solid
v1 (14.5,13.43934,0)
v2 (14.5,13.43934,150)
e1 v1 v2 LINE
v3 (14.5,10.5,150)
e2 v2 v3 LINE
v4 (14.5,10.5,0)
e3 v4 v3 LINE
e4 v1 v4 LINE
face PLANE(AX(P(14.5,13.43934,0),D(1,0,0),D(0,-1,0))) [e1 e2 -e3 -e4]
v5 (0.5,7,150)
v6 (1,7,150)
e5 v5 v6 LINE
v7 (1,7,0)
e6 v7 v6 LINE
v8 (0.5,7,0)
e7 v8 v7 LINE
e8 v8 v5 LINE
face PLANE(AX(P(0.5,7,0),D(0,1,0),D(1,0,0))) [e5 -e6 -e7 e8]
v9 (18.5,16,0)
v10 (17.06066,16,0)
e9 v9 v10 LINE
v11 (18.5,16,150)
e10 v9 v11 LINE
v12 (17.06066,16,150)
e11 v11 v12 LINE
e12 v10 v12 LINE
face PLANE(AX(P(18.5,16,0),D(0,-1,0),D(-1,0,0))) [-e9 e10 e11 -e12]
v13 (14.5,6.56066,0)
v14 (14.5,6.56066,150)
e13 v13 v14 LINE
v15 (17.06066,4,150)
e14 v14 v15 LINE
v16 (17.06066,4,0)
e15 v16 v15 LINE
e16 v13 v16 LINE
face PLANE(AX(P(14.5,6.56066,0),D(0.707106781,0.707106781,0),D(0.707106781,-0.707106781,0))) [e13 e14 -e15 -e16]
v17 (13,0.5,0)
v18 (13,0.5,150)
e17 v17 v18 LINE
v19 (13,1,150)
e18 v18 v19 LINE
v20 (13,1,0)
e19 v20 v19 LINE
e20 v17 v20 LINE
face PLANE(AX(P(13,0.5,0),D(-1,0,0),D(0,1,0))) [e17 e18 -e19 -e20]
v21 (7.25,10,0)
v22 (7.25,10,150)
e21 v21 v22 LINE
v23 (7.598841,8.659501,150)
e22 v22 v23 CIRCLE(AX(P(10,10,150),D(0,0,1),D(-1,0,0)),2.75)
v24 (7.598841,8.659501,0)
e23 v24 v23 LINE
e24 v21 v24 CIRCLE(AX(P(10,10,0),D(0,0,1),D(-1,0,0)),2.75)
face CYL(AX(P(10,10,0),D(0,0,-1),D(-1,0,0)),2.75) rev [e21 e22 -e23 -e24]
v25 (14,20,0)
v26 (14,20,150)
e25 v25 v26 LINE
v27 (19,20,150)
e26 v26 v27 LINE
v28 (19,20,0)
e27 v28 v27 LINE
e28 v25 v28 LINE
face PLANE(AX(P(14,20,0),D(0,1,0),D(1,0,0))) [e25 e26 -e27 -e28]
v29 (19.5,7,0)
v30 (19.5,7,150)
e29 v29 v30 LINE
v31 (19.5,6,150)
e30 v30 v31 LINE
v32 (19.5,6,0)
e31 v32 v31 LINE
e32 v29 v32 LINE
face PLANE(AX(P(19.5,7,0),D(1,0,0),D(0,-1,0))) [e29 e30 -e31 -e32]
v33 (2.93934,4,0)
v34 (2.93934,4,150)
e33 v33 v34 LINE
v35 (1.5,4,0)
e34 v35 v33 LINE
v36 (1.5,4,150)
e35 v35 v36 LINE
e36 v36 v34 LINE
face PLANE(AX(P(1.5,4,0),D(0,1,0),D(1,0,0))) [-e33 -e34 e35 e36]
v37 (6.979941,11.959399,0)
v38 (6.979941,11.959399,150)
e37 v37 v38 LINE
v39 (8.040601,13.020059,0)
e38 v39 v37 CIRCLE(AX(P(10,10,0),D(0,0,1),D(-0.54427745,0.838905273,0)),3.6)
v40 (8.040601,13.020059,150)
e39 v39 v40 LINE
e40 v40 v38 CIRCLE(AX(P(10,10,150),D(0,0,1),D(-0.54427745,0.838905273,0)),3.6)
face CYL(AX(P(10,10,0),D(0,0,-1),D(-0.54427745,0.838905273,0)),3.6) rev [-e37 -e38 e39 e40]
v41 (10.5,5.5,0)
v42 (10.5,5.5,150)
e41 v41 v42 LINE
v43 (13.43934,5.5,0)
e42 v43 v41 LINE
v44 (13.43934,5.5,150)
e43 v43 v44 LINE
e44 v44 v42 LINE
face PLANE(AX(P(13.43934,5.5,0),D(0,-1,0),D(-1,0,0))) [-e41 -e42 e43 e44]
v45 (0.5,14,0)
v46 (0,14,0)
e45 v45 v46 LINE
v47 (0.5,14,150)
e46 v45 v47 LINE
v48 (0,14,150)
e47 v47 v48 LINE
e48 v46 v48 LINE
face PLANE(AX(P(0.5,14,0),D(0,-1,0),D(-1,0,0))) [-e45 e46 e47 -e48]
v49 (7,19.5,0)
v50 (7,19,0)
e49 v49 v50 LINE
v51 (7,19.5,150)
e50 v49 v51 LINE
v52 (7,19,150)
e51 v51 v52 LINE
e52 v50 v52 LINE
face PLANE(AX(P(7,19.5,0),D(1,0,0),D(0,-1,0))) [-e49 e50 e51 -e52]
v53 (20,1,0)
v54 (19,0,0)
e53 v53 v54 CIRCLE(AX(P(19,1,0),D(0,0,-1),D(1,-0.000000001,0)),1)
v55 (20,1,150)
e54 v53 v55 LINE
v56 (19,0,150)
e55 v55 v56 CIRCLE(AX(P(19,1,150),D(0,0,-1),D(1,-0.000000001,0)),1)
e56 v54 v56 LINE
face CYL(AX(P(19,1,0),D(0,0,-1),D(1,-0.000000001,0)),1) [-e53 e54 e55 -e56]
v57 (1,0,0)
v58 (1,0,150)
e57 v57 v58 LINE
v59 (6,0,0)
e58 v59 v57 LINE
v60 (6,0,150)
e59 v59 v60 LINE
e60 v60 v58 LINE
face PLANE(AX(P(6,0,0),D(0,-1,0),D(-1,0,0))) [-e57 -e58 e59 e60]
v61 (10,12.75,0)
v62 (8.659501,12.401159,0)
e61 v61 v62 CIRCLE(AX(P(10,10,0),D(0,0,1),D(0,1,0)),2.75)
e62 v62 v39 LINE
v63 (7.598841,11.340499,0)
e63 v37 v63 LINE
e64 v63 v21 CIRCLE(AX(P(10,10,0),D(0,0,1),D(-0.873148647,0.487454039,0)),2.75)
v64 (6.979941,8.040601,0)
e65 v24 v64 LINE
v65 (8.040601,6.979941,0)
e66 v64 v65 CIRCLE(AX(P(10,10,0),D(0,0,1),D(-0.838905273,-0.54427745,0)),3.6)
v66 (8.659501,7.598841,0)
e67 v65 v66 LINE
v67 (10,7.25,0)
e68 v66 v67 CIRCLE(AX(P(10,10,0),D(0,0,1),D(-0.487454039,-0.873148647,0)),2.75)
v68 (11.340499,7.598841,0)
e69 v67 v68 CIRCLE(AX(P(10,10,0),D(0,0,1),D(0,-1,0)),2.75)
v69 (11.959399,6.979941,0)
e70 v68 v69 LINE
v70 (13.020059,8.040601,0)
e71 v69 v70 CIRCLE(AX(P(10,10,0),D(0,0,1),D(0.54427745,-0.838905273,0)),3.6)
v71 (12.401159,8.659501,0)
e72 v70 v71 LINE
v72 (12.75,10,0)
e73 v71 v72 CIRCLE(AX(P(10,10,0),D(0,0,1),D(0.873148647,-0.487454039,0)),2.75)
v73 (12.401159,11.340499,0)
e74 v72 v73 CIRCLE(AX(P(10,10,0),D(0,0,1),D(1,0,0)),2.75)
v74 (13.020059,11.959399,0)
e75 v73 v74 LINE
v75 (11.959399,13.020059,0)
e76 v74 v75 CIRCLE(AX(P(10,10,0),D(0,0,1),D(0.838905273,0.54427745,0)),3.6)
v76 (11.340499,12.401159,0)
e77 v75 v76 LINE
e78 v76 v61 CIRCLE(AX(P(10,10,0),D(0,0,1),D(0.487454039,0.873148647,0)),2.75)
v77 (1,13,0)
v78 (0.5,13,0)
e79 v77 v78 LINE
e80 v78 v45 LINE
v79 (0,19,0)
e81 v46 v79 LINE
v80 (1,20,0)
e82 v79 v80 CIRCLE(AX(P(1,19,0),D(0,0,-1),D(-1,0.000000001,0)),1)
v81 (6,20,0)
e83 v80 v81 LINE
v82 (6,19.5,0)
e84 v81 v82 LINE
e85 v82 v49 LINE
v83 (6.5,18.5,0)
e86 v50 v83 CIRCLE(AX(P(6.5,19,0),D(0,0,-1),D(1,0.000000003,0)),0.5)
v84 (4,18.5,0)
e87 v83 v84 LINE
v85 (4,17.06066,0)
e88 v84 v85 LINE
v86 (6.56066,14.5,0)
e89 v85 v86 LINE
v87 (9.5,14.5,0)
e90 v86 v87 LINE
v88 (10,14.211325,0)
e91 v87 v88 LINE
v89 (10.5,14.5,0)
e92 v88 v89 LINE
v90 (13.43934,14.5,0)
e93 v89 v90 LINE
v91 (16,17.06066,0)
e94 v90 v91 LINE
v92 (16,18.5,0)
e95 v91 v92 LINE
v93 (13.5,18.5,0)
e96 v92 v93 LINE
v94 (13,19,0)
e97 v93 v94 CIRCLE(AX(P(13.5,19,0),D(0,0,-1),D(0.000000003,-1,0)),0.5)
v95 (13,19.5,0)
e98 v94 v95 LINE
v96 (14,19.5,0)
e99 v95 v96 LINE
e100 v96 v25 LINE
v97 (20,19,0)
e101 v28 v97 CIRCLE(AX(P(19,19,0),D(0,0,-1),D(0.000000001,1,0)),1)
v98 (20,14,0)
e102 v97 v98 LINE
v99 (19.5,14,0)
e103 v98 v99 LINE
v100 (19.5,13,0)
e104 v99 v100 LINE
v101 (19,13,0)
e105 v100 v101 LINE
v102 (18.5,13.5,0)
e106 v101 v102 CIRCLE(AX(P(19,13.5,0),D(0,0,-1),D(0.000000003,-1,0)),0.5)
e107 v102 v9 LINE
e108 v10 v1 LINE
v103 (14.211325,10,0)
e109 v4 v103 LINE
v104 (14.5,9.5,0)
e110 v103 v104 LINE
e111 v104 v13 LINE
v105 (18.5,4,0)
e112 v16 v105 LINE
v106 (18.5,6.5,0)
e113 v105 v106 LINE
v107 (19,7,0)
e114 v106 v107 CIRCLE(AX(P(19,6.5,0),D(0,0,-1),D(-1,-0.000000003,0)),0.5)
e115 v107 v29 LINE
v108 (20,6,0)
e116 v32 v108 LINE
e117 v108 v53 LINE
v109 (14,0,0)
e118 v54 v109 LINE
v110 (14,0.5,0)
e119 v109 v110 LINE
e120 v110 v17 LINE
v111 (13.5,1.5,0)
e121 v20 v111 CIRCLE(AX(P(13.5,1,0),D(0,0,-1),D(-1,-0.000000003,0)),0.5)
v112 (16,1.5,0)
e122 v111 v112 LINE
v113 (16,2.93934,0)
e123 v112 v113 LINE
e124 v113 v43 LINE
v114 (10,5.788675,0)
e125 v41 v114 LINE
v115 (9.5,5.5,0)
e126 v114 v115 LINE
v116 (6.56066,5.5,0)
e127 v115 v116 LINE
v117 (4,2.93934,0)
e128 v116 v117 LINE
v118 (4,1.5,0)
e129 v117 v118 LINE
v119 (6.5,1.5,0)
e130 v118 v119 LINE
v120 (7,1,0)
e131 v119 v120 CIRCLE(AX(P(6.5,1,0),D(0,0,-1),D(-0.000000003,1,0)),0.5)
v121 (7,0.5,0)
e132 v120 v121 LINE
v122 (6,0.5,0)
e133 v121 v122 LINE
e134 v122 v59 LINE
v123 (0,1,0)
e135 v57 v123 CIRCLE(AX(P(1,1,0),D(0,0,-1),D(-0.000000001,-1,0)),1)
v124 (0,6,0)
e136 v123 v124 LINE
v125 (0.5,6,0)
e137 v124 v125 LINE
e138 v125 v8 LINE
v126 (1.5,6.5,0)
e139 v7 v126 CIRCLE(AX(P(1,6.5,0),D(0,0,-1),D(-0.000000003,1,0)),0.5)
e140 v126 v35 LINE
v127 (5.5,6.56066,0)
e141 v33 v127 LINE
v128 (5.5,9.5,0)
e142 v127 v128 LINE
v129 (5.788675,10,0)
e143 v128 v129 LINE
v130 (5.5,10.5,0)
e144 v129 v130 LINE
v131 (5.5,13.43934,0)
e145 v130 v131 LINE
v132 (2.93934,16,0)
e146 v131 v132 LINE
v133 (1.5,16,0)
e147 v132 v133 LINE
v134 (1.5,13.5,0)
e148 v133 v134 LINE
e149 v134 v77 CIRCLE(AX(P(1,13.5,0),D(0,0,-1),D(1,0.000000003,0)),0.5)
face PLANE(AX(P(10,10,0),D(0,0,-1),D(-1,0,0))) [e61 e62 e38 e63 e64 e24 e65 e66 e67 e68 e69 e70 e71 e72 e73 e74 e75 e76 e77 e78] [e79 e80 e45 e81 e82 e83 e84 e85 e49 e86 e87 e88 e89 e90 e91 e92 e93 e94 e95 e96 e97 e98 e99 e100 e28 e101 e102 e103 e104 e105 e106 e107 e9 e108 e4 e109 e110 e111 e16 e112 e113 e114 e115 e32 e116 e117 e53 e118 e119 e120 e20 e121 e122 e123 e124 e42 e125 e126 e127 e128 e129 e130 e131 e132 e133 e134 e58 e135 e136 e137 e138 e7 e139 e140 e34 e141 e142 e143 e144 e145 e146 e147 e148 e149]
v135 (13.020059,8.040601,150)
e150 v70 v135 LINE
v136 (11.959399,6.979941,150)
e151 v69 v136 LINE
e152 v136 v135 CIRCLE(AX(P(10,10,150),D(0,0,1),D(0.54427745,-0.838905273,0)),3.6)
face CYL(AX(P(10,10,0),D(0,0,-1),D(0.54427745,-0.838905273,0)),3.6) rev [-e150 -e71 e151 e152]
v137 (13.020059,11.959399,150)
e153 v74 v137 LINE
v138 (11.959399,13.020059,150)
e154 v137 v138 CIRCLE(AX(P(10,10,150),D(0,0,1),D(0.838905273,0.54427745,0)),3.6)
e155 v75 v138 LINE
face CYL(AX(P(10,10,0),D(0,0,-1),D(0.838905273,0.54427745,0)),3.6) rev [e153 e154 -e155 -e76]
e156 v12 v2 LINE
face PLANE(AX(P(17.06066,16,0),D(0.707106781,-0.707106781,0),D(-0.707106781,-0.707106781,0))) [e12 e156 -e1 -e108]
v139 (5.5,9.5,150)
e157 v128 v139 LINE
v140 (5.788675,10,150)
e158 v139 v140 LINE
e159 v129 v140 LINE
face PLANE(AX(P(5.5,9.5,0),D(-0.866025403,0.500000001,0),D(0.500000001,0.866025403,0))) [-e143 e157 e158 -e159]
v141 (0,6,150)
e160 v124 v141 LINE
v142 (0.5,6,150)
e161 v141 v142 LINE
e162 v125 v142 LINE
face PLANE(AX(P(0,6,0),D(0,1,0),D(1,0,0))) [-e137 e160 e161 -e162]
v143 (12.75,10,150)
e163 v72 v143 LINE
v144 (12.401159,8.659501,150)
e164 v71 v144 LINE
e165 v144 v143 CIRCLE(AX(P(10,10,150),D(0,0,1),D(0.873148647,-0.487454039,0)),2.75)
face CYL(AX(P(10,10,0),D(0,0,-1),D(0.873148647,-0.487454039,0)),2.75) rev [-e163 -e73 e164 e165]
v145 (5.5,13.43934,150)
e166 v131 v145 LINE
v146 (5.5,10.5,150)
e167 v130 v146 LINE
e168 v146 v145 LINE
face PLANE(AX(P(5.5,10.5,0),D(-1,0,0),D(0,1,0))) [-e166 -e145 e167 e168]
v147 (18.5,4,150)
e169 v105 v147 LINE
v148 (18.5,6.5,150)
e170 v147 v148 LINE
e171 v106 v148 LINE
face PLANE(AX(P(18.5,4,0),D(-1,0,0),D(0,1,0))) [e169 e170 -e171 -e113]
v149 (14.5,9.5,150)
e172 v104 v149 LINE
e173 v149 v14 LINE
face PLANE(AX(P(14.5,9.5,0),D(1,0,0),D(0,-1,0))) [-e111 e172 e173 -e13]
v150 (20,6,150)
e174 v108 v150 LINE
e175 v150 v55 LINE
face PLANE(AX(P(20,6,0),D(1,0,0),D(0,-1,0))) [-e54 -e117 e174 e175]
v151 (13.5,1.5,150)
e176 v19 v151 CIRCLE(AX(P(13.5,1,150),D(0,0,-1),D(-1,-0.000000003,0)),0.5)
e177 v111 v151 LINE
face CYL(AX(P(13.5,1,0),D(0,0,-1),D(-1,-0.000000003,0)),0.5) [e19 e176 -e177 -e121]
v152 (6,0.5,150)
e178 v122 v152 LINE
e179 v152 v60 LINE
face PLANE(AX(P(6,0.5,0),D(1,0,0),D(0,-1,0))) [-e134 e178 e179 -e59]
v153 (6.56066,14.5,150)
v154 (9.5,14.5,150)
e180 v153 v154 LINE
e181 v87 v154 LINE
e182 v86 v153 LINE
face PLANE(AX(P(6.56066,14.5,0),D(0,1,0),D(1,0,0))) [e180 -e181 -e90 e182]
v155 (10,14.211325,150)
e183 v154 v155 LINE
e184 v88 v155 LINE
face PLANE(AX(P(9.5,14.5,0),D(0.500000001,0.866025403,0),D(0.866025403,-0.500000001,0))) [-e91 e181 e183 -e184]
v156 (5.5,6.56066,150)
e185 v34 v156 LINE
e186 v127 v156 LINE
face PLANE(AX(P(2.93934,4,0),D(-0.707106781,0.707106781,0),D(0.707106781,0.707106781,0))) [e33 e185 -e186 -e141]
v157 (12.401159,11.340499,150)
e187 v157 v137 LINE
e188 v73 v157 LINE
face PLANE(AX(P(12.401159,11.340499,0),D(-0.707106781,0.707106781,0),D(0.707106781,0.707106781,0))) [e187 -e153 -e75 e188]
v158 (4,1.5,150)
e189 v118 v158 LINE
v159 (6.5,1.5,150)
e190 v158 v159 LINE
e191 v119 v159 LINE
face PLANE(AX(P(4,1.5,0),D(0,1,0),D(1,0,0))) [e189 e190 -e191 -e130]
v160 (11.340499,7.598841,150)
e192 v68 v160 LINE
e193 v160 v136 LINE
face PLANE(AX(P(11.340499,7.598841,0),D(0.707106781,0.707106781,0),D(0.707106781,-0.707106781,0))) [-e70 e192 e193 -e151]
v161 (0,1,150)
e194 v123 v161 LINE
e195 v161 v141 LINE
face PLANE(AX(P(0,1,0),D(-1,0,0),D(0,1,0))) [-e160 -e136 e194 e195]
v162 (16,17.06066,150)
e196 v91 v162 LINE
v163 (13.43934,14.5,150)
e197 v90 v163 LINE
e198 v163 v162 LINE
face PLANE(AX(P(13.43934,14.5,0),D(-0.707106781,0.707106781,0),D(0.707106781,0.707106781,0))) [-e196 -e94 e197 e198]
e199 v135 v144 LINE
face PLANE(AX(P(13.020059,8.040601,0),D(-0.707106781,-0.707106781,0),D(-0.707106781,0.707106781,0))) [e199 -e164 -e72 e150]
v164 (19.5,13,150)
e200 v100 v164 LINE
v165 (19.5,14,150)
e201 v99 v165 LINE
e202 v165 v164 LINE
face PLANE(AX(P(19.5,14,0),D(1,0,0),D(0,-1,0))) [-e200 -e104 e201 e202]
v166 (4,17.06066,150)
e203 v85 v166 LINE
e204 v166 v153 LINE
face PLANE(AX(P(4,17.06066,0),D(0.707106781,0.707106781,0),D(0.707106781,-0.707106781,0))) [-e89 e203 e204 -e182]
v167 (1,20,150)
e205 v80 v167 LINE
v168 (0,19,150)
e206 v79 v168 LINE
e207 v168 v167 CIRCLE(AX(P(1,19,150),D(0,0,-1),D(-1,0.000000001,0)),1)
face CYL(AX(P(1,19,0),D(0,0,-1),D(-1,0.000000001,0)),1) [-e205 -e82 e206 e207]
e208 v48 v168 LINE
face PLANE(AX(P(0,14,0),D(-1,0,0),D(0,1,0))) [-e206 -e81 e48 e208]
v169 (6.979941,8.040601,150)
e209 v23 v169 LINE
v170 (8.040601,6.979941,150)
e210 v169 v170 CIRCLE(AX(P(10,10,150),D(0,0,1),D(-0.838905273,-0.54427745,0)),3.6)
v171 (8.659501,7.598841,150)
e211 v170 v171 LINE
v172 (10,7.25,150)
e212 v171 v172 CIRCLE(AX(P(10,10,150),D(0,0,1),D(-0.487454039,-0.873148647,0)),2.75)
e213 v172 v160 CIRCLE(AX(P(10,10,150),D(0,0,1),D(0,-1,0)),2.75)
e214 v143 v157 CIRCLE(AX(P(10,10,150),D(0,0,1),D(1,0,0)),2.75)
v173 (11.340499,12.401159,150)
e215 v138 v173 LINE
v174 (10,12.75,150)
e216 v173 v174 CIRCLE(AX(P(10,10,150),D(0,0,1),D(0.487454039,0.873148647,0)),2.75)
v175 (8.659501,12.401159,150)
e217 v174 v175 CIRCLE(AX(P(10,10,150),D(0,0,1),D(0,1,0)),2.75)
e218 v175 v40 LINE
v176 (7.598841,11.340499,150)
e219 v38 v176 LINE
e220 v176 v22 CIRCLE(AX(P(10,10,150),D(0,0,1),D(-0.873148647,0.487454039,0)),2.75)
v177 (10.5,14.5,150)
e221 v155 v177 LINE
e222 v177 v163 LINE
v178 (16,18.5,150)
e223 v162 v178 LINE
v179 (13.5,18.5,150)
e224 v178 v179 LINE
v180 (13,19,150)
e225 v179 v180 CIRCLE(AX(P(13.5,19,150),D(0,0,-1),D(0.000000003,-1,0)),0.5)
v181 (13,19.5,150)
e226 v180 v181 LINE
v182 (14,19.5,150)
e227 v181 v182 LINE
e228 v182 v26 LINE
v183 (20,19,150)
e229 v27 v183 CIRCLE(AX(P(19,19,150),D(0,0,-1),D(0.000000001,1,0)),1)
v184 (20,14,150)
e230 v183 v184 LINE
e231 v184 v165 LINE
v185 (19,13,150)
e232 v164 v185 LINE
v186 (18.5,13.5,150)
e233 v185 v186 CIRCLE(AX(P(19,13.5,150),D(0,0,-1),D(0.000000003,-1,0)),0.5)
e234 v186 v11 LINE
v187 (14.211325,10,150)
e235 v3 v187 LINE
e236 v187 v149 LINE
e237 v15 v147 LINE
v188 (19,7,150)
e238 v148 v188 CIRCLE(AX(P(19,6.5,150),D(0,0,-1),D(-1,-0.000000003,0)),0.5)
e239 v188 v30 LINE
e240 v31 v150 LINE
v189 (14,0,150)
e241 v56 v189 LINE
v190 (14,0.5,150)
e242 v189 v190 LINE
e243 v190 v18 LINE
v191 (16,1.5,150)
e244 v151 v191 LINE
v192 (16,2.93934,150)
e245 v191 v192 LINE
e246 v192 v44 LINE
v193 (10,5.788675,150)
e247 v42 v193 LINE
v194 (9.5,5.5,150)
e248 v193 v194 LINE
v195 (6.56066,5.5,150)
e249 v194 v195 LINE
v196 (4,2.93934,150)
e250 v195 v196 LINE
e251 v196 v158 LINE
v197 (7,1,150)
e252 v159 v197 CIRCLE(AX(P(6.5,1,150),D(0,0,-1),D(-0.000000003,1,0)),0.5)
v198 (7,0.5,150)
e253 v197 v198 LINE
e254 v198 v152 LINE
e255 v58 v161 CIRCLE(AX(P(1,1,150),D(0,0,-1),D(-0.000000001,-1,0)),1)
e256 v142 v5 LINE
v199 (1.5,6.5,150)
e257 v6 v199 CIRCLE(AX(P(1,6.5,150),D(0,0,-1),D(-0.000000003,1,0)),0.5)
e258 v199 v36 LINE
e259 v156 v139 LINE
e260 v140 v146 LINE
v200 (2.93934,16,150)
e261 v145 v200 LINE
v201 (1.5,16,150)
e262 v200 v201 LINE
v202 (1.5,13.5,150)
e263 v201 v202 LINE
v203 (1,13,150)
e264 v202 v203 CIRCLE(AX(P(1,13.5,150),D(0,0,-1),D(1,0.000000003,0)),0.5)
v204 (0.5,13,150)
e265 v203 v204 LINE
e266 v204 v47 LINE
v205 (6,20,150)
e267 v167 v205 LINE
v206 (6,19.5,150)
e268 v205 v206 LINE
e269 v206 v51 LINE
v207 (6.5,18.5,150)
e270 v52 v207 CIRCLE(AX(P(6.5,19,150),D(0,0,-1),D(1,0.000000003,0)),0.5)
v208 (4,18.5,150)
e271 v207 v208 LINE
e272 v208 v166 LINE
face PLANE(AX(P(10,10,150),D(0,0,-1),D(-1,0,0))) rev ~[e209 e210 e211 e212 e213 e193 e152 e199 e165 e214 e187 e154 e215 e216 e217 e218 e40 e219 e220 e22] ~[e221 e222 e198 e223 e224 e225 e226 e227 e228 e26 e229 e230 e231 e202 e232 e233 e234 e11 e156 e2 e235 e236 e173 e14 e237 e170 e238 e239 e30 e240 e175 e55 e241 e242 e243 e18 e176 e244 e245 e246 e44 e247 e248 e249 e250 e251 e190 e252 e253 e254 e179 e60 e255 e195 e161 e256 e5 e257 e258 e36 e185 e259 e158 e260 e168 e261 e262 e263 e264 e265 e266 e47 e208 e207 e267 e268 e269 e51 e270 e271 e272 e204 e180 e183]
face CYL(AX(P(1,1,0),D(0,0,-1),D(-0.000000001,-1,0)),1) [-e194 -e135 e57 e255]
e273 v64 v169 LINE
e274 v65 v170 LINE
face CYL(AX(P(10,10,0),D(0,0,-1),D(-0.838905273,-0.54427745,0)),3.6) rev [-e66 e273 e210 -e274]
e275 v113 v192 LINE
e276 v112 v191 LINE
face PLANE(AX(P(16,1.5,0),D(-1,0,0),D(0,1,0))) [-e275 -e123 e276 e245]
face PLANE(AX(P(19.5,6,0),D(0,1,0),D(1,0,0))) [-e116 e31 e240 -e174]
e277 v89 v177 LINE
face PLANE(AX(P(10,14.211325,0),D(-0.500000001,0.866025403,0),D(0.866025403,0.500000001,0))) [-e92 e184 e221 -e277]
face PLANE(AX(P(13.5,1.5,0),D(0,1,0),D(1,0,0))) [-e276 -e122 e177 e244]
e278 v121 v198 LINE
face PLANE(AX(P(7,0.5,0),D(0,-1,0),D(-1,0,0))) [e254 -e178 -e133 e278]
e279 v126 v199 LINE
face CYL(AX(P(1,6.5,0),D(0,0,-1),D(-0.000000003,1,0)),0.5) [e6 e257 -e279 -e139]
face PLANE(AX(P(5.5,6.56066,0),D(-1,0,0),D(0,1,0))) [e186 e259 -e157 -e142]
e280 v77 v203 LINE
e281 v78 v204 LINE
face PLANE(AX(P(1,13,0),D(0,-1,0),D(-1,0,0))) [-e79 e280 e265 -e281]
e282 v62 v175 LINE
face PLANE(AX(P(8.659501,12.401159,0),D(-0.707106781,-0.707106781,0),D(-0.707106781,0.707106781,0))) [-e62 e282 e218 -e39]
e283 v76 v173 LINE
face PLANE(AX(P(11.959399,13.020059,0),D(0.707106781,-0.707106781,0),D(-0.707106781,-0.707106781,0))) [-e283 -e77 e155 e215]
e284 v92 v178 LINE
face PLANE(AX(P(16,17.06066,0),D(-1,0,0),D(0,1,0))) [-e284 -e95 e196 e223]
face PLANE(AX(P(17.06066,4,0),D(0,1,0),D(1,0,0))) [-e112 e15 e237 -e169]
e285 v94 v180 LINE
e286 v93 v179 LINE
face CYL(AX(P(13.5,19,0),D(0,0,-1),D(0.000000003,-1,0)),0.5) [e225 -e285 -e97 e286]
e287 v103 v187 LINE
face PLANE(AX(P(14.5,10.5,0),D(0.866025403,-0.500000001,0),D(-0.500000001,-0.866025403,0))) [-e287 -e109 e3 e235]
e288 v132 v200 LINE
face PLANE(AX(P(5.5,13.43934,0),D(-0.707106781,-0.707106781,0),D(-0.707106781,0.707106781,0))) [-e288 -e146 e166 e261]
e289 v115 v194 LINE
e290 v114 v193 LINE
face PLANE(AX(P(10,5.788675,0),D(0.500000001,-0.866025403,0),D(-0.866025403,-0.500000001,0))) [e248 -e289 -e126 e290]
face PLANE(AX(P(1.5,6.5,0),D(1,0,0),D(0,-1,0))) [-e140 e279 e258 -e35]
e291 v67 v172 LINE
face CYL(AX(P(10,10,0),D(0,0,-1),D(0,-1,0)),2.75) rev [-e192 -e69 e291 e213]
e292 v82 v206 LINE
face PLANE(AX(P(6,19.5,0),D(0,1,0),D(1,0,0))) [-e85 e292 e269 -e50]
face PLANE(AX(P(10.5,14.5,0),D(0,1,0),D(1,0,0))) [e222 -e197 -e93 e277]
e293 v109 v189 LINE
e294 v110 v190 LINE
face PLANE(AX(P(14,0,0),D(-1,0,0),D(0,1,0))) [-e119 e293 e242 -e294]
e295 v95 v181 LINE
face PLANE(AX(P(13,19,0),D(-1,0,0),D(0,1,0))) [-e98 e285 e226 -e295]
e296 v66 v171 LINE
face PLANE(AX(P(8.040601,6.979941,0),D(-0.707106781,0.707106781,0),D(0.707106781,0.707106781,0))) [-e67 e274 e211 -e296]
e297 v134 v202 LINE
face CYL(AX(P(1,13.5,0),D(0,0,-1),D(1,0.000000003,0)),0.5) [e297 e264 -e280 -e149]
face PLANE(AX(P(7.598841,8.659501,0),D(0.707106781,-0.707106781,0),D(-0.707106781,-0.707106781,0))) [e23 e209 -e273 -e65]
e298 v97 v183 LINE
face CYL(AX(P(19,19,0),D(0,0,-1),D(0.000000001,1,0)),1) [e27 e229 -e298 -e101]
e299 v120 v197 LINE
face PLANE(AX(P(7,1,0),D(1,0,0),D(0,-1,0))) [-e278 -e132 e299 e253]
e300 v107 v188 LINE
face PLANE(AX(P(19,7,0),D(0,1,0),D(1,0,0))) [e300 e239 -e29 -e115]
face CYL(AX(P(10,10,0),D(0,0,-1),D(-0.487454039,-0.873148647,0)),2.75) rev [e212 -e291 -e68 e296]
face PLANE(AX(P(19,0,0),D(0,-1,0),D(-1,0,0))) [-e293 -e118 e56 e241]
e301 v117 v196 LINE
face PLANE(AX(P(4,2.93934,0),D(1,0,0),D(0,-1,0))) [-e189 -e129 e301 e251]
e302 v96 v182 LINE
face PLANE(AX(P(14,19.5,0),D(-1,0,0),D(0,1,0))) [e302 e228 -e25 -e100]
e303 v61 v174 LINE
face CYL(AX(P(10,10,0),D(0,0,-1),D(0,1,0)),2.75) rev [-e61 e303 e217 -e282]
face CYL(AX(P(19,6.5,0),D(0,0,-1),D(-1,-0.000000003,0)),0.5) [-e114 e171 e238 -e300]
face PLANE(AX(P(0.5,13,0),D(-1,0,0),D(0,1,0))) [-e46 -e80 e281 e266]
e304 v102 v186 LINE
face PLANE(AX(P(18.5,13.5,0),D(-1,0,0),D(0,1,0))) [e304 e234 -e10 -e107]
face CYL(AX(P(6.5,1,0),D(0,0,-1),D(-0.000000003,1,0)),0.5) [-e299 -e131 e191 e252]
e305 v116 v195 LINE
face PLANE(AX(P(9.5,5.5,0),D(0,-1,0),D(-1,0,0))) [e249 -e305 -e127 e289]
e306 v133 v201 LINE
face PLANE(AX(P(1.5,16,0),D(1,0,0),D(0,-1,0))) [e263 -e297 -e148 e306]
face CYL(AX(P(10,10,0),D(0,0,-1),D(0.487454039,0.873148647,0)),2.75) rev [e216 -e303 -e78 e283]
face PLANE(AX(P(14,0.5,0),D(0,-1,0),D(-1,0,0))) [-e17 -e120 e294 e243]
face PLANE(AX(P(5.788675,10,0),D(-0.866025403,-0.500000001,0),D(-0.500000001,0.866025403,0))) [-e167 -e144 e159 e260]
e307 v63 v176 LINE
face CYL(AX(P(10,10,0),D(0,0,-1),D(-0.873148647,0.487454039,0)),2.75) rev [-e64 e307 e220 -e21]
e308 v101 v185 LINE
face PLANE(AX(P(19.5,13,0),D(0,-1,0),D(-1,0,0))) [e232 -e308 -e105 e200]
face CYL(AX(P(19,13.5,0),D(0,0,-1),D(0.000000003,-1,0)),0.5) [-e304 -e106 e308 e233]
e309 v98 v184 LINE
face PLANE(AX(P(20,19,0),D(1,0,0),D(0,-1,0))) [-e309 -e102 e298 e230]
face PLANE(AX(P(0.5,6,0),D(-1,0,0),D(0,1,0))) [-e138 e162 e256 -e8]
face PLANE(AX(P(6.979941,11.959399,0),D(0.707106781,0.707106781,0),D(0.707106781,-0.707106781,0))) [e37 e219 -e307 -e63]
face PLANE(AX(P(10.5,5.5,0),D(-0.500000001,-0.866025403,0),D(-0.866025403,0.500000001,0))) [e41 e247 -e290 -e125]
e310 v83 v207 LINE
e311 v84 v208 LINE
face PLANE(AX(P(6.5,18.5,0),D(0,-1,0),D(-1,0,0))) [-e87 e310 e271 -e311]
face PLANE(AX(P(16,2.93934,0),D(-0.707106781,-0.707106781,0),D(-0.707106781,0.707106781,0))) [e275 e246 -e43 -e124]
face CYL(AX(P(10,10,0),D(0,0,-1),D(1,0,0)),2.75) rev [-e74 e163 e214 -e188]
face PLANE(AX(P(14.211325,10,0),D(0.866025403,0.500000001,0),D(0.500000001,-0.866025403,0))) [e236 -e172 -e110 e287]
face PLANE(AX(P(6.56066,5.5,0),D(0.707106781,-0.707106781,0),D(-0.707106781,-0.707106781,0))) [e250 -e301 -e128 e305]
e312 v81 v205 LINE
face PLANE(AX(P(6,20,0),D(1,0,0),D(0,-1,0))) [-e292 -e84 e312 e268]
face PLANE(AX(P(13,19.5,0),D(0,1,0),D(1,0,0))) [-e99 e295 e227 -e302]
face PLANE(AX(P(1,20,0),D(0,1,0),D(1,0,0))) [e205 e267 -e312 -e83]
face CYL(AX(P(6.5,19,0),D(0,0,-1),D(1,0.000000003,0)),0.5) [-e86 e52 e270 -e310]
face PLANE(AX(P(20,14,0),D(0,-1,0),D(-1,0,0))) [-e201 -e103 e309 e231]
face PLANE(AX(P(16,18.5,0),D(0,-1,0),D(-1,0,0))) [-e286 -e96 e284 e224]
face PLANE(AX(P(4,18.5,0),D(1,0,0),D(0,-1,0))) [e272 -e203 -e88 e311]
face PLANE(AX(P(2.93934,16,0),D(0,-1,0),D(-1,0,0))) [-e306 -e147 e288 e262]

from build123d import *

# Parameters (mm, degrees)
EXTRUDE_1_DEPTH = 150


with BuildPart() as part:
    # Эскиз1 → Бобышка-Вытянуть1 (new body)
    with BuildSketch(Plane.XY):
        with BuildLine():
            Line((1, 20), (6, 20))
            Line((6, 20), (6, 19.5))
            Line((6, 19.5), (7, 19.5))
            Line((7, 19.5), (7, 19))
            ThreePointArc((7, 19), (6.853553391, 18.646446609), (6.5, 18.5))
            Line((6.5, 18.5), (4, 18.5))
            Line((4, 18.5), (4, 17.060660172))
            Line((4, 17.060660172), (6.560660172, 14.5))
            Line((6.560660172, 14.5), (9.5, 14.5))
            Line((9.5, 14.5), (10, 14.211324865))
            Line((10, 14.211324865), (10.5, 14.5))
            Line((10.5, 14.5), (13.439339828, 14.5))
            Line((13.439339828, 14.5), (16, 17.060660172))
            Line((16, 17.060660172), (16, 18.5))
            Line((16, 18.5), (13.5, 18.5))
            ThreePointArc((13.5, 18.5), (13.146446609, 18.646446609), (13, 19))
            Line((13, 19), (13, 19.5))
            Line((13, 19.5), (14, 19.5))
            Line((14, 19.5), (14, 20))
            Line((14, 20), (19, 20))
            ThreePointArc((19, 20), (19.707106781, 19.707106781), (20, 19))
            Line((20, 19), (20, 14))
            Line((20, 14), (19.5, 14))
            Line((19.5, 14), (19.5, 13))
            Line((19.5, 13), (19, 13))
            ThreePointArc((19, 13), (18.646446609, 13.146446609), (18.5, 13.5))
            Line((18.5, 13.5), (18.5, 16))
            Line((18.5, 16), (17.060660172, 16))
            Line((17.060660172, 16), (14.5, 13.439339828))
            Line((14.5, 13.439339828), (14.5, 10.5))
            Line((14.5, 10.5), (14.211324865, 10))
            Line((14.211324865, 10), (14.5, 9.5))
            Line((14.5, 9.5), (14.5, 6.560660172))
            Line((14.5, 6.560660172), (17.060660172, 4))
            Line((17.060660172, 4), (18.5, 4))
            Line((18.5, 4), (18.5, 6.5))
            ThreePointArc((18.5, 6.5), (18.646446609, 6.853553391), (19, 7))
            Line((19, 7), (19.5, 7))
            Line((19.5, 7), (19.5, 6))
            Line((19.5, 6), (20, 6))
            Line((20, 6), (20, 1))
            ThreePointArc((20, 1), (19.707106781, 0.292893219), (19, 0))
            Line((19, 0), (14, 0))
            Line((14, 0), (14, 0.5))
            Line((14, 0.5), (13, 0.5))
            Line((13, 0.5), (13, 1))
            ThreePointArc((13, 1), (13.146446609, 1.353553391), (13.5, 1.5))
            Line((13.5, 1.5), (16, 1.5))
            Line((16, 1.5), (16, 2.939339828))
            Line((16, 2.939339828), (13.439339828, 5.5))
            Line((13.439339828, 5.5), (10.5, 5.5))
            Line((10.5, 5.5), (10, 5.788675135))
            Line((10, 5.788675135), (9.5, 5.5))
            Line((9.5, 5.5), (6.560660172, 5.5))
            Line((6.560660172, 5.5), (4, 2.939339828))
            Line((4, 2.939339828), (4, 1.5))
            Line((4, 1.5), (6.5, 1.5))
            ThreePointArc((6.5, 1.5), (6.853553391, 1.353553391), (7, 1))
            Line((7, 1), (7, 0.5))
            Line((7, 0.5), (6, 0.5))
            Line((6, 0.5), (6, 0))
            Line((6, 0), (1, 0))
            ThreePointArc((1, 0), (0.292893219, 0.292893219), (0, 1))
            Line((0, 1), (0, 6))
            Line((0, 6), (0.5, 6))
            Line((0.5, 6), (0.5, 7))
            Line((0.5, 7), (1, 7))
            ThreePointArc((1, 7), (1.353553391, 6.853553391), (1.5, 6.5))
            Line((1.5, 6.5), (1.5, 4))
            Line((1.5, 4), (2.939339828, 4))
            Line((2.939339828, 4), (5.5, 6.560660172))
            Line((5.5, 6.560660172), (5.5, 9.5))
            Line((5.5, 9.5), (5.788675135, 10))
            Line((5.788675135, 10), (5.5, 10.5))
            Line((5.5, 10.5), (5.5, 13.439339828))
            Line((5.5, 13.439339828), (2.939339828, 16))
            Line((2.939339828, 16), (1.5, 16))
            Line((1.5, 16), (1.5, 13.5))
            ThreePointArc((1.5, 13.5), (1.353553391, 13.146446609), (1, 13))
            Line((1, 13), (0.5, 13))
            Line((0.5, 13), (0.5, 14))
            Line((0.5, 14), (0, 14))
            Line((0, 14), (0, 19))
            ThreePointArc((0, 19), (0.292893219, 19.707106781), (1, 20))
        make_face()
        with BuildLine():
            Line((6.979941013, 11.959398815), (7.598841221, 11.340498607))
            ThreePointArc((7.598841221, 11.340498607), (7.338638822, 10.692572508), (7.25, 10))
            ThreePointArc((7.25, 10), (7.338638822, 9.307427492), (7.598841221, 8.659501393))
            Line((7.598841221, 8.659501393), (6.979941013, 8.040601185))
            ThreePointArc((6.979941013, 8.040601185), (7.454415588, 7.454415588), (8.040601185, 6.979941013))
            Line((8.040601185, 6.979941013), (8.659501393, 7.598841221))
            ThreePointArc((8.659501393, 7.598841221), (9.307427492, 7.338638822), (10, 7.25))
            ThreePointArc((10, 7.25), (10.692572508, 7.338638822), (11.340498607, 7.598841221))
            Line((11.340498607, 7.598841221), (11.959398815, 6.979941013))
            ThreePointArc((11.959398815, 6.979941013), (12.545584412, 7.454415588), (13.020058987, 8.040601185))
            Line((13.020058987, 8.040601185), (12.401158779, 8.659501393))
            ThreePointArc((12.401158779, 8.659501393), (12.661361178, 9.307427492), (12.75, 10))
            ThreePointArc((12.75, 10), (12.661361178, 10.692572508), (12.401158779, 11.340498607))
            Line((12.401158779, 11.340498607), (13.020058987, 11.959398815))
            ThreePointArc((13.020058987, 11.959398815), (12.545584412, 12.545584412), (11.959398815, 13.020058987))
            Line((11.959398815, 13.020058987), (11.340498607, 12.401158779))
            ThreePointArc((11.340498607, 12.401158779), (10.692572508, 12.661361178), (10, 12.75))
            ThreePointArc((10, 12.75), (9.307427492, 12.661361178), (8.659501393, 12.401158779))
            Line((8.659501393, 12.401158779), (8.040601185, 13.020058987))
            ThreePointArc((8.040601185, 13.020058987), (7.454415588, 12.545584412), (6.979941013, 11.959398815))
        make_face(mode=Mode.SUBTRACT)
    extrude(amount=EXTRUDE_1_DEPTH)


solid = part.part
